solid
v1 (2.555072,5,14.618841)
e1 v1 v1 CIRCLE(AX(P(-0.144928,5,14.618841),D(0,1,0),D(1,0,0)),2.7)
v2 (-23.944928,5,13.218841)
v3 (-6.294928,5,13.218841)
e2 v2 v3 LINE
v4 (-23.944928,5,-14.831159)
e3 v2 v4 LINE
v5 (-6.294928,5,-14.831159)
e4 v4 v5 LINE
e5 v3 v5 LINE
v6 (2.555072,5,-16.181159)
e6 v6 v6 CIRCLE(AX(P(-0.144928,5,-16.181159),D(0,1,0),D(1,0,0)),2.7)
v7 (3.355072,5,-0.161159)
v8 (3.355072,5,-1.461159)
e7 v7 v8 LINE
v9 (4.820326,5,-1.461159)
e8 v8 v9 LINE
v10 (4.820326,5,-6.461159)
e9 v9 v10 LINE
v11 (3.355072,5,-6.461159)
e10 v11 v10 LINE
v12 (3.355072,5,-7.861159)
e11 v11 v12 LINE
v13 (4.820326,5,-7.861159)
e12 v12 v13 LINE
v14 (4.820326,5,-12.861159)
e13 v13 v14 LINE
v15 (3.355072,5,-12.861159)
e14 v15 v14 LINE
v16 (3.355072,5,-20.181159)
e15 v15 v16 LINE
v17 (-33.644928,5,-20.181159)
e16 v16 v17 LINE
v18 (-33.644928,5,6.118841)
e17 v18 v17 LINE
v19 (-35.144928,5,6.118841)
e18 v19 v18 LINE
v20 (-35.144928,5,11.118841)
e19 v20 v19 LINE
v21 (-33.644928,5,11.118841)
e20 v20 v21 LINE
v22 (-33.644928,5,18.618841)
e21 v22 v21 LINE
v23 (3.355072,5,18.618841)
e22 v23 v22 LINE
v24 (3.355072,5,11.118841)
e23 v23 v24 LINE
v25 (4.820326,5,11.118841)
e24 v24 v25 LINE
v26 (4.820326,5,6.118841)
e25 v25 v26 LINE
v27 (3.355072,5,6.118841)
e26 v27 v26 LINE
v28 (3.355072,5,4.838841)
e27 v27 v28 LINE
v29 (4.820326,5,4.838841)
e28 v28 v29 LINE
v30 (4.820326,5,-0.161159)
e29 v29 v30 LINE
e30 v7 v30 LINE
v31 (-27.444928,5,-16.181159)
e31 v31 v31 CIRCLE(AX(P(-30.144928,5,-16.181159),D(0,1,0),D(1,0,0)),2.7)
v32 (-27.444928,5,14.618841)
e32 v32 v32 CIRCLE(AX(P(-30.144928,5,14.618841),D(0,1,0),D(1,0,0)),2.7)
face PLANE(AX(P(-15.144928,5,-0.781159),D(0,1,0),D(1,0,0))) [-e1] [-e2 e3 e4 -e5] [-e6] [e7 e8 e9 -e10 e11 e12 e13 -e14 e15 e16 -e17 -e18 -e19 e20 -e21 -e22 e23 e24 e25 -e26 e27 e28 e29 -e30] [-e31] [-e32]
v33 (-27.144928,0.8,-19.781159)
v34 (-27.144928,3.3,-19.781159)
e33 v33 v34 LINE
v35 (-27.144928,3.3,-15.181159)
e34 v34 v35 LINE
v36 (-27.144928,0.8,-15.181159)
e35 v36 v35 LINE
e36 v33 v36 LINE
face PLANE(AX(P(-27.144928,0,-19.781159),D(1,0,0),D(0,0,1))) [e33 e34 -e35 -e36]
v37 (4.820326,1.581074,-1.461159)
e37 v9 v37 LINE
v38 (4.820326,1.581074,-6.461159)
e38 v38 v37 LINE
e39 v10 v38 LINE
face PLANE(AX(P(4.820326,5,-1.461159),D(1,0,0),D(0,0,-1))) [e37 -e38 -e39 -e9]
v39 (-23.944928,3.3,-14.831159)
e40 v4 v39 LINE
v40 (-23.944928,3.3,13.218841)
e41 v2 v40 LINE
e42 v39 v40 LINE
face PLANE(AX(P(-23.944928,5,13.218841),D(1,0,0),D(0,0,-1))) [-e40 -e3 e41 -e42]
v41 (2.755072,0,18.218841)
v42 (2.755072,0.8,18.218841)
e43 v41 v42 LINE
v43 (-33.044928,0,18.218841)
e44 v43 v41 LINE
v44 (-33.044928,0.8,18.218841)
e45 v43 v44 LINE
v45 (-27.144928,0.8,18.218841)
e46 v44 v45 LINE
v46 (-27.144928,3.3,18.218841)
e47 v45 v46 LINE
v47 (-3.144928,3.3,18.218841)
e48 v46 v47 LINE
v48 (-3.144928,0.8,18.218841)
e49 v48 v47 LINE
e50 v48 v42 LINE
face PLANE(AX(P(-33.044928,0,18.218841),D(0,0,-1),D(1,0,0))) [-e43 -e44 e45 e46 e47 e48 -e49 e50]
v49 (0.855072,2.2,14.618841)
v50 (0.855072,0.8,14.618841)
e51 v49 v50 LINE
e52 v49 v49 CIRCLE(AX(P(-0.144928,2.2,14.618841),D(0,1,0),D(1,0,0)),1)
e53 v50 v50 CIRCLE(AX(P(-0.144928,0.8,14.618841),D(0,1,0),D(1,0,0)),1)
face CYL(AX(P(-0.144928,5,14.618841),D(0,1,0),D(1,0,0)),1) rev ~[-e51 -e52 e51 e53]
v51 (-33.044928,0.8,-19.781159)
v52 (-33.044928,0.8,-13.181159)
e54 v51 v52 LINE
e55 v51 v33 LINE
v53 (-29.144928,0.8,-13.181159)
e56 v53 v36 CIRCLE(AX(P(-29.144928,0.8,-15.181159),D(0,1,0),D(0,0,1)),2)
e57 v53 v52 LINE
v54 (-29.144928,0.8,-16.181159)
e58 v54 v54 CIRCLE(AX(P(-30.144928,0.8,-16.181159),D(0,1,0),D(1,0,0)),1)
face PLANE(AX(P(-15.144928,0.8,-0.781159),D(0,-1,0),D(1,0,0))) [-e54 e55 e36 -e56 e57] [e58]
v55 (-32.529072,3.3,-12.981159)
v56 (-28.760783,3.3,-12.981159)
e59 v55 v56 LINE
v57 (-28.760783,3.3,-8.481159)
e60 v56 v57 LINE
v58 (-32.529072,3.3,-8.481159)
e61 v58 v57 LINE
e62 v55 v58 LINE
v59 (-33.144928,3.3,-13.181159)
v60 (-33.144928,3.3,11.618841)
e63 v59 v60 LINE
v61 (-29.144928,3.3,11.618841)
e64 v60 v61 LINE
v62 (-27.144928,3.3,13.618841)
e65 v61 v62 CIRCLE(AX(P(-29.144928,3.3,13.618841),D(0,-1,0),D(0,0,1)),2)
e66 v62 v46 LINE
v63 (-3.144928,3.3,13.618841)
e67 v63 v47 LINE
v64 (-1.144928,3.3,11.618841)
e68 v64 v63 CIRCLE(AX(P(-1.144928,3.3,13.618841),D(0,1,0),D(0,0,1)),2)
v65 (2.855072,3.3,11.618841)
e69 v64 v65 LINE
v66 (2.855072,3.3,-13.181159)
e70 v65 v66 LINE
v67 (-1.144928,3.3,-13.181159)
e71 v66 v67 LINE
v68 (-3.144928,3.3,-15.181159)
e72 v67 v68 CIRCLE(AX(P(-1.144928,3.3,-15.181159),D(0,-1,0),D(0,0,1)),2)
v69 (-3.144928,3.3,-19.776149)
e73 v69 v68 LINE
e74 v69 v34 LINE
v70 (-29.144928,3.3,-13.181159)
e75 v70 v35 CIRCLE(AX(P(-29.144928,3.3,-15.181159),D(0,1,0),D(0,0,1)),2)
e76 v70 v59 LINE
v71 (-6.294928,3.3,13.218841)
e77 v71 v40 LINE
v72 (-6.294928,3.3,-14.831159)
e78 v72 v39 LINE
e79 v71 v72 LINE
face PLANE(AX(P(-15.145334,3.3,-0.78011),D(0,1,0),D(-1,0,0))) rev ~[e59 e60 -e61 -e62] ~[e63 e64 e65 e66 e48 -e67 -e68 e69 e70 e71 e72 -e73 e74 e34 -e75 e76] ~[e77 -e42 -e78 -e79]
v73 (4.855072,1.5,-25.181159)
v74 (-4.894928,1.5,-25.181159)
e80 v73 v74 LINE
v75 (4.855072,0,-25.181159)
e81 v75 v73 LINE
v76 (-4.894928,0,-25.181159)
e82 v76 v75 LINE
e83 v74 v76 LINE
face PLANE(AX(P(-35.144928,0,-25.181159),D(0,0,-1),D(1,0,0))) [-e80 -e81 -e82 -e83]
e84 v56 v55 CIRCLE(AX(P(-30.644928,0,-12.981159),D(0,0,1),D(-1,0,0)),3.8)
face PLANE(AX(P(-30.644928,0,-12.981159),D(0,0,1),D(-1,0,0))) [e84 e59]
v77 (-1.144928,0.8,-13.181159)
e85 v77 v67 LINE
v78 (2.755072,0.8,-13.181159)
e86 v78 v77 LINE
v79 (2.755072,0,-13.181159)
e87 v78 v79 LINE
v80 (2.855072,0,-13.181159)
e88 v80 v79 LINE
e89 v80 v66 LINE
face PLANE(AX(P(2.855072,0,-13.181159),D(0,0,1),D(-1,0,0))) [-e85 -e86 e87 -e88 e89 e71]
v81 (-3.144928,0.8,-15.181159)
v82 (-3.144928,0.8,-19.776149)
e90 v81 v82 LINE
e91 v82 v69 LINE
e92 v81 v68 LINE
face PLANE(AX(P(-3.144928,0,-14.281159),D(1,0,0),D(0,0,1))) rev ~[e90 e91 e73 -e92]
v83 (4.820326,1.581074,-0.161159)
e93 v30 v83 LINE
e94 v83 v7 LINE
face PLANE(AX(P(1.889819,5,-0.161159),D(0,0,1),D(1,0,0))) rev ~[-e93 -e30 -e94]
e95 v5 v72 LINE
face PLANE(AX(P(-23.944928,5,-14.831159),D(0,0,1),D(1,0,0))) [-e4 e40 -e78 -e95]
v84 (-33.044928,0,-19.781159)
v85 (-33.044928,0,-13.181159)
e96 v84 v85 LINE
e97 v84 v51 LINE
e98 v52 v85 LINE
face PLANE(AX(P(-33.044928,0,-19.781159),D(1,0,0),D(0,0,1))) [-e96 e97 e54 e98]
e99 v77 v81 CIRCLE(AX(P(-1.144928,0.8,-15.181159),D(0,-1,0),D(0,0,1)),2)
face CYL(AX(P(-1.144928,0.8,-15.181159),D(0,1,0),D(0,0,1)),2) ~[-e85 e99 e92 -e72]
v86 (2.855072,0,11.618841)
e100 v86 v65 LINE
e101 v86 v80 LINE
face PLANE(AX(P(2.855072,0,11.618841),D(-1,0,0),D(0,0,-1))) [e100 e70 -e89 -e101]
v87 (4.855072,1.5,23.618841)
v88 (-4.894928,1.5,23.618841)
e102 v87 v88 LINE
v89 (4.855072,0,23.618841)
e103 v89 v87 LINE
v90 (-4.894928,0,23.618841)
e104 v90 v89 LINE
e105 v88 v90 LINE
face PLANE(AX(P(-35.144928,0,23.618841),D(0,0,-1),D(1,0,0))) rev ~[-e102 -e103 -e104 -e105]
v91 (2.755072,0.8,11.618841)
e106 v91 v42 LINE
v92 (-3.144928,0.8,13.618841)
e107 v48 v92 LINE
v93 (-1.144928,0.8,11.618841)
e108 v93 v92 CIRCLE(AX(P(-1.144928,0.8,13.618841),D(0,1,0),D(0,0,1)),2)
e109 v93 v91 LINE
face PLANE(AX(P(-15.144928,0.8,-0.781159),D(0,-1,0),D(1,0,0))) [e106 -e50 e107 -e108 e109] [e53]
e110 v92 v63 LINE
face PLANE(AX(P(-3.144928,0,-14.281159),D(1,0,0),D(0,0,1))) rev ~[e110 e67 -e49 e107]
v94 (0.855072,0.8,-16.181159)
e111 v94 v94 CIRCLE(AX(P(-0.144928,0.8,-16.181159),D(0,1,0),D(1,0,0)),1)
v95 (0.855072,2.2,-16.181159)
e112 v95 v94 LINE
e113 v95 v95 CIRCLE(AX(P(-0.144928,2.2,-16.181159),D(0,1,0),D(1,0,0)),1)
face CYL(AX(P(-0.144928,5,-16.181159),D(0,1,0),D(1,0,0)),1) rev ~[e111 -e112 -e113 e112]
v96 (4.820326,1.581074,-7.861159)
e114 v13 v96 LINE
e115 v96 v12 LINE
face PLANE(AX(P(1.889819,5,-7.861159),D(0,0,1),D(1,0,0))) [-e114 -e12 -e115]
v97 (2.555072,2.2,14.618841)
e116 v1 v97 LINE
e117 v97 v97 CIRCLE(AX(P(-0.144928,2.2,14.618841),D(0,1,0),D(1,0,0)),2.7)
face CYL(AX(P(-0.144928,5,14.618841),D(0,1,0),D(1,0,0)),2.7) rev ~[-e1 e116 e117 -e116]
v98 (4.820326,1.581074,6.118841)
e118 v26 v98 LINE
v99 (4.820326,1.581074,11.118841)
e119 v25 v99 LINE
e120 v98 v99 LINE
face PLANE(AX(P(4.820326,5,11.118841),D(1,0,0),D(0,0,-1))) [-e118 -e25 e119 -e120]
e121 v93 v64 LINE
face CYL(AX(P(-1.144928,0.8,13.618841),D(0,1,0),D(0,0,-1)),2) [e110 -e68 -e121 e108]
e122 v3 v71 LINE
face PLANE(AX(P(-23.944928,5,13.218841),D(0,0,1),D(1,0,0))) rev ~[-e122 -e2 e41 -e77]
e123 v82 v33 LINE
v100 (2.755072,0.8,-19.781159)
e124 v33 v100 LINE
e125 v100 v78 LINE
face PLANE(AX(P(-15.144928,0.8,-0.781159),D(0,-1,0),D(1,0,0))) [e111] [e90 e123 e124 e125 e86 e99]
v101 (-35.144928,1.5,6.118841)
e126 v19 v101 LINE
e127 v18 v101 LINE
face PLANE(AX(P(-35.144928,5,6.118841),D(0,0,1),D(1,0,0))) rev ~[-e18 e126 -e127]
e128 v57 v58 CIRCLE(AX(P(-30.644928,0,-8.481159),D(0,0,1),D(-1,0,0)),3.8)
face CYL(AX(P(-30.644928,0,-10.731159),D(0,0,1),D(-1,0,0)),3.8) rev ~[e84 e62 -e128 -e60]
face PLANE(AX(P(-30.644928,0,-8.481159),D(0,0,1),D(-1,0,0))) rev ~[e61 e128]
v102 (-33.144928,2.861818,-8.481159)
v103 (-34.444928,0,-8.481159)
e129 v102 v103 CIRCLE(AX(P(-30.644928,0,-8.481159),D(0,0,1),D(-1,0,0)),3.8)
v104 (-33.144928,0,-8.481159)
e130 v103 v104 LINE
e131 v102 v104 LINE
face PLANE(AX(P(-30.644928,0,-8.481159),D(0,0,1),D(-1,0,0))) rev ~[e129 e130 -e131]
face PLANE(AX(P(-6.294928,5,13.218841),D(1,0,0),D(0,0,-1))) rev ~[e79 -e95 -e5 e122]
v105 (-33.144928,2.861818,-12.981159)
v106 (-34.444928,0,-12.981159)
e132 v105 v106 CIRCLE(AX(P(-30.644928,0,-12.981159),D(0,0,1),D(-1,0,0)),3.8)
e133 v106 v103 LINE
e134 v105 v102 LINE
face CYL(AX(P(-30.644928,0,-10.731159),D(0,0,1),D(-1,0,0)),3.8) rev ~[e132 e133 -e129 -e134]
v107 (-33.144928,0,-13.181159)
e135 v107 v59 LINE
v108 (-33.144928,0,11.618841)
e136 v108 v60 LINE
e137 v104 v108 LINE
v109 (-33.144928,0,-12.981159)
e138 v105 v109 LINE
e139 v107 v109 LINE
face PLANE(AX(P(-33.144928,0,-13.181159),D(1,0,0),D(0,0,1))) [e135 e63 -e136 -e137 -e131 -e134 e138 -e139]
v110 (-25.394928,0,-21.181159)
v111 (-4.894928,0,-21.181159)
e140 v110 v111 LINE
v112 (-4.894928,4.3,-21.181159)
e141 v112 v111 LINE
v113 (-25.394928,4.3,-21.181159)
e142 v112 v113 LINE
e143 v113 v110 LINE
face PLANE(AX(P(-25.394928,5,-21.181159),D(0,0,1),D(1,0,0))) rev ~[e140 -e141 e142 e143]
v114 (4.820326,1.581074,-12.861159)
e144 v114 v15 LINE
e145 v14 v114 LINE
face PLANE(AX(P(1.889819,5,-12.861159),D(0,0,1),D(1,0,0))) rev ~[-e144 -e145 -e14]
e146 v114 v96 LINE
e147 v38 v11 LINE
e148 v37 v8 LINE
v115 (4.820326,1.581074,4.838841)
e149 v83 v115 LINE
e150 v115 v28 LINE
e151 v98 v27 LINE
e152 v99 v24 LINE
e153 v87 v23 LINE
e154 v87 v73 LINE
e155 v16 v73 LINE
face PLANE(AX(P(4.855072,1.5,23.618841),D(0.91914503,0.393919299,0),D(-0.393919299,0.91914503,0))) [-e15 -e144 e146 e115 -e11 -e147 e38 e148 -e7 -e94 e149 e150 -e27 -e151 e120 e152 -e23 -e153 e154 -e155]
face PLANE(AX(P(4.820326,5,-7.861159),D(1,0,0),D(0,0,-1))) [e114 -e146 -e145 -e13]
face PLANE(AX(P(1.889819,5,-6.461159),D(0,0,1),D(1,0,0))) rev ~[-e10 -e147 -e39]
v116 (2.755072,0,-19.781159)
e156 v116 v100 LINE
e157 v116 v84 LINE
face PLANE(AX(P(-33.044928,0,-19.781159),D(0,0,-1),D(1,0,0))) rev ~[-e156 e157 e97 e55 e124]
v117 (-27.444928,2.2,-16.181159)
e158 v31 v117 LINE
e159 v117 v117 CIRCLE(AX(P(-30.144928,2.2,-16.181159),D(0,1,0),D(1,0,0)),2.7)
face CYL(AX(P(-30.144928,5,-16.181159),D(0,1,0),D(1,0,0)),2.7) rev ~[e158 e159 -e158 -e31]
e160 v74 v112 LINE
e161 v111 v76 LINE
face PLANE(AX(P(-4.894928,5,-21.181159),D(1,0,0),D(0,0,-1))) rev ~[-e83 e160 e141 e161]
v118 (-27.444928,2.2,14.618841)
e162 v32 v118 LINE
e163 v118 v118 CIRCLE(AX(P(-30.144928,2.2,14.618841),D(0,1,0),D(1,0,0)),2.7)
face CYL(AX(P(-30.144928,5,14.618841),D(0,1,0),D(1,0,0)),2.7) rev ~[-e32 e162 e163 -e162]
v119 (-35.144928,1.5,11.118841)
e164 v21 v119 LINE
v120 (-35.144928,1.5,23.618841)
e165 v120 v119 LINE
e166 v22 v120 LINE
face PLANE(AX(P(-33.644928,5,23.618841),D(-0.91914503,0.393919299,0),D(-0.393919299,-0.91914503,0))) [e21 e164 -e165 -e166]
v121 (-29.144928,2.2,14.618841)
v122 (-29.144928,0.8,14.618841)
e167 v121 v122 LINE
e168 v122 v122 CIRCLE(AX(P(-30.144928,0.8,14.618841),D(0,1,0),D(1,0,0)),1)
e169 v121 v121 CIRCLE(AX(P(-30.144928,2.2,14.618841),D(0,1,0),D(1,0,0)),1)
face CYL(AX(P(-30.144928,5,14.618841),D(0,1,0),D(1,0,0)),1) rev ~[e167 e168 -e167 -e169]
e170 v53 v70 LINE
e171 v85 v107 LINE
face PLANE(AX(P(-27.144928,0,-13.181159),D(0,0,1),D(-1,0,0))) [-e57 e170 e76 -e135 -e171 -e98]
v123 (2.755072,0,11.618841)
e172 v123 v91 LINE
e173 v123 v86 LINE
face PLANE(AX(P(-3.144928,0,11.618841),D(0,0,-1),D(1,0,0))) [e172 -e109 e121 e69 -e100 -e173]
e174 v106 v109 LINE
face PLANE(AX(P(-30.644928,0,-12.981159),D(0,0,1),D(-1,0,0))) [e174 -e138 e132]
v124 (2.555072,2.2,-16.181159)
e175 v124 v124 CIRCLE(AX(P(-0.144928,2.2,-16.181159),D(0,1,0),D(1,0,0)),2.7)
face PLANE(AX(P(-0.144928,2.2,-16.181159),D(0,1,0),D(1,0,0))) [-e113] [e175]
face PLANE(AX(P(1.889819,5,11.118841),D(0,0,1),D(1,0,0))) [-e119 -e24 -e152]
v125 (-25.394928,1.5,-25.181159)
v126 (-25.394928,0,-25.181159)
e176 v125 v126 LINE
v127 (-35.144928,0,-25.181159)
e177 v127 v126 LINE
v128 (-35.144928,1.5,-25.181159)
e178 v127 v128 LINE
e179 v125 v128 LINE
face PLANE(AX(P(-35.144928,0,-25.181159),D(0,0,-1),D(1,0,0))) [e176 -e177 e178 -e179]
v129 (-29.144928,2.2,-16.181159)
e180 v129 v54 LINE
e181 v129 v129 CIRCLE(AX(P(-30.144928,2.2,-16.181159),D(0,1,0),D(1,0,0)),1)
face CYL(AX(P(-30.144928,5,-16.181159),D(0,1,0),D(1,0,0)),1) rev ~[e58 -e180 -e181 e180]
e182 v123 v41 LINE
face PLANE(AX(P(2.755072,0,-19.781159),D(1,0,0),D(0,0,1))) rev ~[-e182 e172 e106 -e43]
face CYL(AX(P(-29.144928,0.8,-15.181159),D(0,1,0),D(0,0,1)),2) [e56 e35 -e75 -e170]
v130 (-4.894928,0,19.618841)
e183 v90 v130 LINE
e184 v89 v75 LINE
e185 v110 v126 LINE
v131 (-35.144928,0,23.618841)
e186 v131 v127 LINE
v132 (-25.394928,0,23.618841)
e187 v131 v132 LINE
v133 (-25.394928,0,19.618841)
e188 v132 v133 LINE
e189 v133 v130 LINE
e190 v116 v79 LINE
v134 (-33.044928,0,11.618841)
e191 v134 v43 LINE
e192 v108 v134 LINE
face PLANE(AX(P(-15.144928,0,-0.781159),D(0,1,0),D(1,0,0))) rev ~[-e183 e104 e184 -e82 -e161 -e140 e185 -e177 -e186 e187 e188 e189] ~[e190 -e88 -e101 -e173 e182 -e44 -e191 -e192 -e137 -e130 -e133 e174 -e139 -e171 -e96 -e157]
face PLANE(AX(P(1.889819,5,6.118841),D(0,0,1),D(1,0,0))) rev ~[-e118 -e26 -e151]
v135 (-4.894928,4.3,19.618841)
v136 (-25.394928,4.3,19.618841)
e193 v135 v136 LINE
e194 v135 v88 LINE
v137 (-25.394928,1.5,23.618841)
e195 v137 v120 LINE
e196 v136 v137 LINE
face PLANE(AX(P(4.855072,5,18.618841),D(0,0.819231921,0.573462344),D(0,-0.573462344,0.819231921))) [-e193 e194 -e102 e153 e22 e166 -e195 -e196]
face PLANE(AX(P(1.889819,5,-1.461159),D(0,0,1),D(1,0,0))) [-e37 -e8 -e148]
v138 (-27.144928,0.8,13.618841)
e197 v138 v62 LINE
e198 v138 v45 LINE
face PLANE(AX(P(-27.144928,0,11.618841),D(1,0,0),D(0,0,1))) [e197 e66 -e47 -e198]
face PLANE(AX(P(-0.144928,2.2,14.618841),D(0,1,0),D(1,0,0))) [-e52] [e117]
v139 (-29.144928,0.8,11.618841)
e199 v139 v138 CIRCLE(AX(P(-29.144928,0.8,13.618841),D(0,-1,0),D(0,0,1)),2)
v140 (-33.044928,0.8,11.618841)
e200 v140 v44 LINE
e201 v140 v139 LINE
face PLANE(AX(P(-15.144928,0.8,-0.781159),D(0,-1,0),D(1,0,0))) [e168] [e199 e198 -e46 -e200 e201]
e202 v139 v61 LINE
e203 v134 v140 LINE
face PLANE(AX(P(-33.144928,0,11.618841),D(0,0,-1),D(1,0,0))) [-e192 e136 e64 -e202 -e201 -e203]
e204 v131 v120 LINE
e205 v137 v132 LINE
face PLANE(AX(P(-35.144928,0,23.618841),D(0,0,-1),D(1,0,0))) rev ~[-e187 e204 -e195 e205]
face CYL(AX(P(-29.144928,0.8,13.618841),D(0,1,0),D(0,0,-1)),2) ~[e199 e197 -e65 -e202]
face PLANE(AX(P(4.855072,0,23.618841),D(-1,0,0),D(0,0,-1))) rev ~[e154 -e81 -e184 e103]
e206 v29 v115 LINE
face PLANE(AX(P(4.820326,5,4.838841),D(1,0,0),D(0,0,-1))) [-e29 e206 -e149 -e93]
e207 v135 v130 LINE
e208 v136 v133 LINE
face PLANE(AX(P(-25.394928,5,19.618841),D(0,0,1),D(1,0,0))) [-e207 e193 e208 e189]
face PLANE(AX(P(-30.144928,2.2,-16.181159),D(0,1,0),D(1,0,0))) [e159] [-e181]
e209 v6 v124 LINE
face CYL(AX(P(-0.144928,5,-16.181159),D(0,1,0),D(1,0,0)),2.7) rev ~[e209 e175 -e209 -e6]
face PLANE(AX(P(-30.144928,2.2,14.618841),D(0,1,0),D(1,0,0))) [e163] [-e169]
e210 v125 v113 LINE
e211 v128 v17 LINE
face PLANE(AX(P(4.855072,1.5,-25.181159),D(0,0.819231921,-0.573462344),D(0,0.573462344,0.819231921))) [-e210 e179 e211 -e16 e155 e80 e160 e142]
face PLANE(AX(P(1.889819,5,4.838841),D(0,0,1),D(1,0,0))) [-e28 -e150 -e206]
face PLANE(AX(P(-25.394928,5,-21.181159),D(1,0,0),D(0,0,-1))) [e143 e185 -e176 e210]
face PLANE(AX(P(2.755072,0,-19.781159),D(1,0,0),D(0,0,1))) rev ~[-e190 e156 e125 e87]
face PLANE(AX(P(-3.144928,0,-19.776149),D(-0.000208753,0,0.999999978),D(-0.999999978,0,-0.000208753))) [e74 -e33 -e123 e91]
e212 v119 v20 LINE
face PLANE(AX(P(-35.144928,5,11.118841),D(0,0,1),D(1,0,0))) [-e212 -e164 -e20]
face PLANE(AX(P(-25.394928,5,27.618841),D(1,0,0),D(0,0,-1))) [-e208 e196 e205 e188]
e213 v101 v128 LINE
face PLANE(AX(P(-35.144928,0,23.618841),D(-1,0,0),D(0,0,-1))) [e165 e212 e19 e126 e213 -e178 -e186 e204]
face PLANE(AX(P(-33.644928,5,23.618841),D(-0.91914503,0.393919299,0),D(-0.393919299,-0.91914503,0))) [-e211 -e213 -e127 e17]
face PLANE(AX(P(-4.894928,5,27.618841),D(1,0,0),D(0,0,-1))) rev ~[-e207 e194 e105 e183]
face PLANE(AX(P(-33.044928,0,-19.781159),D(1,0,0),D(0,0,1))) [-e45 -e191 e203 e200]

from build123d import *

# Parameters (mm, degrees)
SKETCH1_W            = 40
SKETCH1_H            = 48.8
BOSS_EXTRUDE1_DEPTH  = 5
SKETCH2_W            = 20.5
SKETCH2_H            = 8
CUT_EXTRUDE1_DEPTH   = 6
SKETCH3_R            = 2.7
CUT_EXTRUDE2_DEPTH   = 2.8
SKETCH5_R            = 1
CUT_EXTRUDE3_DEPTH   = 6
SKETCH6_OUTSIDE_W    = 63.46
SKETCH6_OUTSIDE_H    = 19.66
CUT_EXTRUDE4_DEPTH   = 41
SKETCH7_OUTSIDE_W    = 54.66
SKETCH7_OUTSIDE_H    = 19.66
CUT_EXTRUDE5_DEPTH   = 49.8
SKETCH8_W            = 17.65
SKETCH8_H            = 28.05
CUT_EXTRUDE6_DEPTH   = 6
BOSS_EXTRUDE2_REACH  = 7
SKETCH9_W            = 2.93050761
SKETCH9_H            = 5
SKETCH9_W_2          = 3
SKETCH10_W           = 35.8
SKETCH10_H           = 38
CUT_EXTRUDE7_DEPTH   = 0.8
SKETCH11_W           = 36
SKETCH11_H           = 24
CUT_EXTRUDE8_DEPTH   = 2.8
SKETCH12_W           = 4
SKETCH12_H           = 26.7
CUT_EXTRUDE9_DEPTH   = 3.3
SKETCH13_OUTSIDE_W   = 54.66
SKETCH13_OUTSIDE_H   = 63.46
SKETCH13_OUTSIDE_W_2 = 40
SKETCH13_OUTSIDE_H_2 = 48.8
CUT_EXTRUDE10_DEPTH  = 3.3
SKETCH14_W           = 3.8
SKETCH14_H           = 4.5
FILLET1_R            = 2


with BuildPart() as part:
    # Sketch1 → Boss-Extrude1 (new body)
    with BuildSketch(Plane(origin=(0, 0, 0), x_dir=(1, 0, 0), z_dir=(0, 1, 0))):
        with Locations((-15.144927536, 0.78115942)):
            Rectangle(SKETCH1_W, SKETCH1_H)
    extrude(amount=BOSS_EXTRUDE1_DEPTH)

    # Sketch2 → Cut-Extrude1 (cut, through all)
    with BuildSketch(Plane(origin=(0, 5, 0), x_dir=(1, 0, 0), z_dir=(0, 1, 0))):
        with Locations((-15.144927536, -23.61884058)):
            Rectangle(SKETCH2_W, SKETCH2_H)
        with Locations((-15.144927536, 25.18115942)):
            Rectangle(SKETCH2_W, SKETCH2_H)
    extrude(amount=-CUT_EXTRUDE1_DEPTH, mode=Mode.SUBTRACT)

    # Sketch3 → Cut-Extrude2 (cut)
    with BuildSketch(Plane(origin=(0, 5, 0), x_dir=(1, 0, 0), z_dir=(0, 1, 0))):
        with Locations((-30.144927536, 16.18115942)):
            Circle(SKETCH3_R)
        with Locations((-0.144927536, 16.18115942)):
            Circle(SKETCH3_R)
        with Locations((-30.144927536, -14.61884058)):
            Circle(SKETCH3_R)
        with Locations((-0.144927536, -14.61884058)):
            Circle(SKETCH3_R)
    extrude(amount=-CUT_EXTRUDE2_DEPTH, mode=Mode.SUBTRACT)

    # Sketch5 → Cut-Extrude3 (cut, through all)
    with BuildSketch(Plane(origin=(0, 5, 0), x_dir=(1, 0, 0), z_dir=(0, 1, 0))):
        with Locations((-30.144927536, -14.61884058)):
            Circle(SKETCH5_R)
        with Locations((-0.144927536, -14.61884058)):
            Circle(SKETCH5_R)
        with Locations((-0.144927536, 16.18115942)):
            Circle(SKETCH5_R)
        with Locations((-30.144927536, 16.18115942)):
            Circle(SKETCH5_R)
    extrude(amount=-CUT_EXTRUDE3_DEPTH, mode=Mode.SUBTRACT)

    # Sketch6 outside → Cut-Extrude4 (cut, through all)
    with BuildSketch(Plane(origin=(4.855072464, 0, 0), x_dir=(0, 0, -1), z_dir=(1, 0, 0))):
        with Locations((0.781, 2.5)):
            Rectangle(SKETCH6_OUTSIDE_W, SKETCH6_OUTSIDE_H)
        Polygon((-18.61884058, 5), (-23.61884058, 1.5), (-23.61884058, 0), (25.18115942, 0), (25.18115942, 1.5), (20.18115942, 5), align=None, mode=Mode.SUBTRACT)
    extrude(amount=-CUT_EXTRUDE4_DEPTH, mode=Mode.SUBTRACT)

    # Sketch7 outside → Cut-Extrude5 (cut, through all)
    with BuildSketch(Plane.XY.offset(23.61884058)):
        with Locations((-15.145, 2.5)):
            Rectangle(SKETCH7_OUTSIDE_W, SKETCH7_OUTSIDE_H)
        Polygon((4.855072464, 1.5), (3.355072464, 5), (-33.644927536, 5), (-35.144927536, 1.5), (-35.144927536, 0), (4.855072464, 0), align=None, mode=Mode.SUBTRACT)
    extrude(amount=-CUT_EXTRUDE5_DEPTH, mode=Mode.SUBTRACT)

    # Sketch8 → Cut-Extrude6 (cut, through all)
    with BuildSketch(Plane(origin=(0, 5, 0), x_dir=(1, 0, 0), z_dir=(0, 1, 0))):
        with Locations((-15.119927536, 0.80615942)):
            Rectangle(SKETCH8_W, SKETCH8_H)
    extrude(amount=-CUT_EXTRUDE6_DEPTH, mode=Mode.SUBTRACT)

    # Sketch9 → Boss-Extrude2 (add, up to next)
    with BuildSketch(Plane(origin=(0, 5, 0), x_dir=(1, 0, 0), z_dir=(0, 1, 0)), mode=Mode.PRIVATE) as boss_extrude2_sk1:
        with Locations((3.355072464, 10.36115942)):
            Rectangle(SKETCH9_W, SKETCH9_H)
    boss_extrude2_tool1 = extrude(boss_extrude2_sk1.sketch, amount=-BOSS_EXTRUDE2_REACH, mode=Mode.PRIVATE) - part.part
    add(boss_extrude2_tool1.solids().sort_by_distance((3.355072, 5, -10.361159))[0])
    # Sketch9 → Boss-Extrude2 (add, up to next)
    with BuildSketch(Plane(origin=(0, 5, 0), x_dir=(1, 0, 0), z_dir=(0, 1, 0)), mode=Mode.PRIVATE) as boss_extrude2_sk2:
        with Locations((3.355072464, 3.96115942)):
            Rectangle(SKETCH9_W, SKETCH9_H)
    boss_extrude2_tool2 = extrude(boss_extrude2_sk2.sketch, amount=-BOSS_EXTRUDE2_REACH, mode=Mode.PRIVATE) - part.part
    add(boss_extrude2_tool2.solids().sort_by_distance((3.355072, 5, -3.961159))[0])
    # Sketch9 → Boss-Extrude2 (add, up to next)
    with BuildSketch(Plane(origin=(0, 5, 0), x_dir=(1, 0, 0), z_dir=(0, 1, 0)), mode=Mode.PRIVATE) as boss_extrude2_sk3:
        with Locations((3.355072464, -2.33884058)):
            Rectangle(SKETCH9_W, SKETCH9_H)
    boss_extrude2_tool3 = extrude(boss_extrude2_sk3.sketch, amount=-BOSS_EXTRUDE2_REACH, mode=Mode.PRIVATE) - part.part
    add(boss_extrude2_tool3.solids().sort_by_distance((3.355072, 5, 2.338841))[0])
    # Sketch9 → Boss-Extrude2 (add, up to next)
    with BuildSketch(Plane(origin=(0, 5, 0), x_dir=(1, 0, 0), z_dir=(0, 1, 0)), mode=Mode.PRIVATE) as boss_extrude2_sk4:
        with Locations((3.355072464, -8.61884058)):
            Rectangle(SKETCH9_W, SKETCH9_H)
    boss_extrude2_tool4 = extrude(boss_extrude2_sk4.sketch, amount=-BOSS_EXTRUDE2_REACH, mode=Mode.PRIVATE) - part.part
    add(boss_extrude2_tool4.solids().sort_by_distance((3.355072, 5, 8.618841))[0])
    # Sketch9 → Boss-Extrude2 (add, up to next)
    with BuildSketch(Plane(origin=(0, 5, 0), x_dir=(1, 0, 0), z_dir=(0, 1, 0)), mode=Mode.PRIVATE) as boss_extrude2_sk5:
        with Locations((-33.644927536, -8.61884058)):
            Rectangle(SKETCH9_W_2, SKETCH9_H)
    boss_extrude2_tool5 = extrude(boss_extrude2_sk5.sketch, amount=-BOSS_EXTRUDE2_REACH, mode=Mode.PRIVATE) - part.part
    add(boss_extrude2_tool5.solids().sort_by_distance((-33.644928, 5, 8.618841))[0])

    # Sketch10 → Cut-Extrude7 (cut)
    with BuildSketch(Plane.XZ):
        with Locations((-15.144927536, -0.78115942)):
            Rectangle(SKETCH10_W, SKETCH10_H)
    extrude(amount=-CUT_EXTRUDE7_DEPTH, mode=Mode.SUBTRACT)

    # Sketch11 → Cut-Extrude8 (cut)
    with BuildSketch(Plane.XZ):
        with Locations((-15.144927536, -0.78115942)):
            Rectangle(SKETCH11_W, SKETCH11_H)
    extrude(amount=-CUT_EXTRUDE8_DEPTH, mode=Mode.SUBTRACT)

    # Sketch12 → Cut-Extrude9 (cut)
    with BuildSketch(Plane.XZ):
        with Locations((-5.144927536, -0.93115942)):
            Rectangle(SKETCH12_W, SKETCH12_H)
    extrude(amount=-CUT_EXTRUDE9_DEPTH, mode=Mode.SUBTRACT)

    # Sketch13 outside → Cut-Extrude10 (cut)
    with BuildSketch(Plane.XZ):
        with Locations((-15.145, -0.781)):
            Rectangle(SKETCH13_OUTSIDE_W, SKETCH13_OUTSIDE_H)
        with Locations((-15.144927536, -0.78115942)):
            Rectangle(SKETCH13_OUTSIDE_W_2, SKETCH13_OUTSIDE_H_2, mode=Mode.SUBTRACT)
        Polygon((2.855072464, -13.18115942), (-3.144927536, -13.18115942), (-3.144927536, -19.776149343), (-27.144927536, -19.78115942), (-27.144927536, -13.18115942), (-33.144927536, -13.18115942), (-33.144927536, 11.61884058), (-27.144927536, 11.61884058), (-27.144927536, 18.21884058), (-3.144927536, 18.21884058), (-3.144927536, 11.61884058), (2.855072464, 11.61884058), align=None)
    extrude(amount=-CUT_EXTRUDE10_DEPTH, mode=Mode.SUBTRACT)

    # Sketch14 → Cut-Revolve1 (revolve, cut)
    with BuildSketch(Plane.XZ):
        with Locations((-32.544927536, -10.73115942)):
            Rectangle(SKETCH14_W, SKETCH14_H)
    revolve(axis=Axis((-30.644927536, 0, -16.414338521), (0, 0, 1)), mode=Mode.SUBTRACT)

    # Fillet1
    fillet1_edges = [part.edges().sort_by_distance(p)[0] for p in [
        (-3.144927536, 2.05, -13.18115942),
        (-27.144927536, 2.05, -13.18115942),
        (-27.144927536, 2.05, 11.61884058),
        (-3.144927536, 2.05, 11.61884058),
    ]]
    fillet(fillet1_edges, radius=FILLET1_R)


solid = part.part
